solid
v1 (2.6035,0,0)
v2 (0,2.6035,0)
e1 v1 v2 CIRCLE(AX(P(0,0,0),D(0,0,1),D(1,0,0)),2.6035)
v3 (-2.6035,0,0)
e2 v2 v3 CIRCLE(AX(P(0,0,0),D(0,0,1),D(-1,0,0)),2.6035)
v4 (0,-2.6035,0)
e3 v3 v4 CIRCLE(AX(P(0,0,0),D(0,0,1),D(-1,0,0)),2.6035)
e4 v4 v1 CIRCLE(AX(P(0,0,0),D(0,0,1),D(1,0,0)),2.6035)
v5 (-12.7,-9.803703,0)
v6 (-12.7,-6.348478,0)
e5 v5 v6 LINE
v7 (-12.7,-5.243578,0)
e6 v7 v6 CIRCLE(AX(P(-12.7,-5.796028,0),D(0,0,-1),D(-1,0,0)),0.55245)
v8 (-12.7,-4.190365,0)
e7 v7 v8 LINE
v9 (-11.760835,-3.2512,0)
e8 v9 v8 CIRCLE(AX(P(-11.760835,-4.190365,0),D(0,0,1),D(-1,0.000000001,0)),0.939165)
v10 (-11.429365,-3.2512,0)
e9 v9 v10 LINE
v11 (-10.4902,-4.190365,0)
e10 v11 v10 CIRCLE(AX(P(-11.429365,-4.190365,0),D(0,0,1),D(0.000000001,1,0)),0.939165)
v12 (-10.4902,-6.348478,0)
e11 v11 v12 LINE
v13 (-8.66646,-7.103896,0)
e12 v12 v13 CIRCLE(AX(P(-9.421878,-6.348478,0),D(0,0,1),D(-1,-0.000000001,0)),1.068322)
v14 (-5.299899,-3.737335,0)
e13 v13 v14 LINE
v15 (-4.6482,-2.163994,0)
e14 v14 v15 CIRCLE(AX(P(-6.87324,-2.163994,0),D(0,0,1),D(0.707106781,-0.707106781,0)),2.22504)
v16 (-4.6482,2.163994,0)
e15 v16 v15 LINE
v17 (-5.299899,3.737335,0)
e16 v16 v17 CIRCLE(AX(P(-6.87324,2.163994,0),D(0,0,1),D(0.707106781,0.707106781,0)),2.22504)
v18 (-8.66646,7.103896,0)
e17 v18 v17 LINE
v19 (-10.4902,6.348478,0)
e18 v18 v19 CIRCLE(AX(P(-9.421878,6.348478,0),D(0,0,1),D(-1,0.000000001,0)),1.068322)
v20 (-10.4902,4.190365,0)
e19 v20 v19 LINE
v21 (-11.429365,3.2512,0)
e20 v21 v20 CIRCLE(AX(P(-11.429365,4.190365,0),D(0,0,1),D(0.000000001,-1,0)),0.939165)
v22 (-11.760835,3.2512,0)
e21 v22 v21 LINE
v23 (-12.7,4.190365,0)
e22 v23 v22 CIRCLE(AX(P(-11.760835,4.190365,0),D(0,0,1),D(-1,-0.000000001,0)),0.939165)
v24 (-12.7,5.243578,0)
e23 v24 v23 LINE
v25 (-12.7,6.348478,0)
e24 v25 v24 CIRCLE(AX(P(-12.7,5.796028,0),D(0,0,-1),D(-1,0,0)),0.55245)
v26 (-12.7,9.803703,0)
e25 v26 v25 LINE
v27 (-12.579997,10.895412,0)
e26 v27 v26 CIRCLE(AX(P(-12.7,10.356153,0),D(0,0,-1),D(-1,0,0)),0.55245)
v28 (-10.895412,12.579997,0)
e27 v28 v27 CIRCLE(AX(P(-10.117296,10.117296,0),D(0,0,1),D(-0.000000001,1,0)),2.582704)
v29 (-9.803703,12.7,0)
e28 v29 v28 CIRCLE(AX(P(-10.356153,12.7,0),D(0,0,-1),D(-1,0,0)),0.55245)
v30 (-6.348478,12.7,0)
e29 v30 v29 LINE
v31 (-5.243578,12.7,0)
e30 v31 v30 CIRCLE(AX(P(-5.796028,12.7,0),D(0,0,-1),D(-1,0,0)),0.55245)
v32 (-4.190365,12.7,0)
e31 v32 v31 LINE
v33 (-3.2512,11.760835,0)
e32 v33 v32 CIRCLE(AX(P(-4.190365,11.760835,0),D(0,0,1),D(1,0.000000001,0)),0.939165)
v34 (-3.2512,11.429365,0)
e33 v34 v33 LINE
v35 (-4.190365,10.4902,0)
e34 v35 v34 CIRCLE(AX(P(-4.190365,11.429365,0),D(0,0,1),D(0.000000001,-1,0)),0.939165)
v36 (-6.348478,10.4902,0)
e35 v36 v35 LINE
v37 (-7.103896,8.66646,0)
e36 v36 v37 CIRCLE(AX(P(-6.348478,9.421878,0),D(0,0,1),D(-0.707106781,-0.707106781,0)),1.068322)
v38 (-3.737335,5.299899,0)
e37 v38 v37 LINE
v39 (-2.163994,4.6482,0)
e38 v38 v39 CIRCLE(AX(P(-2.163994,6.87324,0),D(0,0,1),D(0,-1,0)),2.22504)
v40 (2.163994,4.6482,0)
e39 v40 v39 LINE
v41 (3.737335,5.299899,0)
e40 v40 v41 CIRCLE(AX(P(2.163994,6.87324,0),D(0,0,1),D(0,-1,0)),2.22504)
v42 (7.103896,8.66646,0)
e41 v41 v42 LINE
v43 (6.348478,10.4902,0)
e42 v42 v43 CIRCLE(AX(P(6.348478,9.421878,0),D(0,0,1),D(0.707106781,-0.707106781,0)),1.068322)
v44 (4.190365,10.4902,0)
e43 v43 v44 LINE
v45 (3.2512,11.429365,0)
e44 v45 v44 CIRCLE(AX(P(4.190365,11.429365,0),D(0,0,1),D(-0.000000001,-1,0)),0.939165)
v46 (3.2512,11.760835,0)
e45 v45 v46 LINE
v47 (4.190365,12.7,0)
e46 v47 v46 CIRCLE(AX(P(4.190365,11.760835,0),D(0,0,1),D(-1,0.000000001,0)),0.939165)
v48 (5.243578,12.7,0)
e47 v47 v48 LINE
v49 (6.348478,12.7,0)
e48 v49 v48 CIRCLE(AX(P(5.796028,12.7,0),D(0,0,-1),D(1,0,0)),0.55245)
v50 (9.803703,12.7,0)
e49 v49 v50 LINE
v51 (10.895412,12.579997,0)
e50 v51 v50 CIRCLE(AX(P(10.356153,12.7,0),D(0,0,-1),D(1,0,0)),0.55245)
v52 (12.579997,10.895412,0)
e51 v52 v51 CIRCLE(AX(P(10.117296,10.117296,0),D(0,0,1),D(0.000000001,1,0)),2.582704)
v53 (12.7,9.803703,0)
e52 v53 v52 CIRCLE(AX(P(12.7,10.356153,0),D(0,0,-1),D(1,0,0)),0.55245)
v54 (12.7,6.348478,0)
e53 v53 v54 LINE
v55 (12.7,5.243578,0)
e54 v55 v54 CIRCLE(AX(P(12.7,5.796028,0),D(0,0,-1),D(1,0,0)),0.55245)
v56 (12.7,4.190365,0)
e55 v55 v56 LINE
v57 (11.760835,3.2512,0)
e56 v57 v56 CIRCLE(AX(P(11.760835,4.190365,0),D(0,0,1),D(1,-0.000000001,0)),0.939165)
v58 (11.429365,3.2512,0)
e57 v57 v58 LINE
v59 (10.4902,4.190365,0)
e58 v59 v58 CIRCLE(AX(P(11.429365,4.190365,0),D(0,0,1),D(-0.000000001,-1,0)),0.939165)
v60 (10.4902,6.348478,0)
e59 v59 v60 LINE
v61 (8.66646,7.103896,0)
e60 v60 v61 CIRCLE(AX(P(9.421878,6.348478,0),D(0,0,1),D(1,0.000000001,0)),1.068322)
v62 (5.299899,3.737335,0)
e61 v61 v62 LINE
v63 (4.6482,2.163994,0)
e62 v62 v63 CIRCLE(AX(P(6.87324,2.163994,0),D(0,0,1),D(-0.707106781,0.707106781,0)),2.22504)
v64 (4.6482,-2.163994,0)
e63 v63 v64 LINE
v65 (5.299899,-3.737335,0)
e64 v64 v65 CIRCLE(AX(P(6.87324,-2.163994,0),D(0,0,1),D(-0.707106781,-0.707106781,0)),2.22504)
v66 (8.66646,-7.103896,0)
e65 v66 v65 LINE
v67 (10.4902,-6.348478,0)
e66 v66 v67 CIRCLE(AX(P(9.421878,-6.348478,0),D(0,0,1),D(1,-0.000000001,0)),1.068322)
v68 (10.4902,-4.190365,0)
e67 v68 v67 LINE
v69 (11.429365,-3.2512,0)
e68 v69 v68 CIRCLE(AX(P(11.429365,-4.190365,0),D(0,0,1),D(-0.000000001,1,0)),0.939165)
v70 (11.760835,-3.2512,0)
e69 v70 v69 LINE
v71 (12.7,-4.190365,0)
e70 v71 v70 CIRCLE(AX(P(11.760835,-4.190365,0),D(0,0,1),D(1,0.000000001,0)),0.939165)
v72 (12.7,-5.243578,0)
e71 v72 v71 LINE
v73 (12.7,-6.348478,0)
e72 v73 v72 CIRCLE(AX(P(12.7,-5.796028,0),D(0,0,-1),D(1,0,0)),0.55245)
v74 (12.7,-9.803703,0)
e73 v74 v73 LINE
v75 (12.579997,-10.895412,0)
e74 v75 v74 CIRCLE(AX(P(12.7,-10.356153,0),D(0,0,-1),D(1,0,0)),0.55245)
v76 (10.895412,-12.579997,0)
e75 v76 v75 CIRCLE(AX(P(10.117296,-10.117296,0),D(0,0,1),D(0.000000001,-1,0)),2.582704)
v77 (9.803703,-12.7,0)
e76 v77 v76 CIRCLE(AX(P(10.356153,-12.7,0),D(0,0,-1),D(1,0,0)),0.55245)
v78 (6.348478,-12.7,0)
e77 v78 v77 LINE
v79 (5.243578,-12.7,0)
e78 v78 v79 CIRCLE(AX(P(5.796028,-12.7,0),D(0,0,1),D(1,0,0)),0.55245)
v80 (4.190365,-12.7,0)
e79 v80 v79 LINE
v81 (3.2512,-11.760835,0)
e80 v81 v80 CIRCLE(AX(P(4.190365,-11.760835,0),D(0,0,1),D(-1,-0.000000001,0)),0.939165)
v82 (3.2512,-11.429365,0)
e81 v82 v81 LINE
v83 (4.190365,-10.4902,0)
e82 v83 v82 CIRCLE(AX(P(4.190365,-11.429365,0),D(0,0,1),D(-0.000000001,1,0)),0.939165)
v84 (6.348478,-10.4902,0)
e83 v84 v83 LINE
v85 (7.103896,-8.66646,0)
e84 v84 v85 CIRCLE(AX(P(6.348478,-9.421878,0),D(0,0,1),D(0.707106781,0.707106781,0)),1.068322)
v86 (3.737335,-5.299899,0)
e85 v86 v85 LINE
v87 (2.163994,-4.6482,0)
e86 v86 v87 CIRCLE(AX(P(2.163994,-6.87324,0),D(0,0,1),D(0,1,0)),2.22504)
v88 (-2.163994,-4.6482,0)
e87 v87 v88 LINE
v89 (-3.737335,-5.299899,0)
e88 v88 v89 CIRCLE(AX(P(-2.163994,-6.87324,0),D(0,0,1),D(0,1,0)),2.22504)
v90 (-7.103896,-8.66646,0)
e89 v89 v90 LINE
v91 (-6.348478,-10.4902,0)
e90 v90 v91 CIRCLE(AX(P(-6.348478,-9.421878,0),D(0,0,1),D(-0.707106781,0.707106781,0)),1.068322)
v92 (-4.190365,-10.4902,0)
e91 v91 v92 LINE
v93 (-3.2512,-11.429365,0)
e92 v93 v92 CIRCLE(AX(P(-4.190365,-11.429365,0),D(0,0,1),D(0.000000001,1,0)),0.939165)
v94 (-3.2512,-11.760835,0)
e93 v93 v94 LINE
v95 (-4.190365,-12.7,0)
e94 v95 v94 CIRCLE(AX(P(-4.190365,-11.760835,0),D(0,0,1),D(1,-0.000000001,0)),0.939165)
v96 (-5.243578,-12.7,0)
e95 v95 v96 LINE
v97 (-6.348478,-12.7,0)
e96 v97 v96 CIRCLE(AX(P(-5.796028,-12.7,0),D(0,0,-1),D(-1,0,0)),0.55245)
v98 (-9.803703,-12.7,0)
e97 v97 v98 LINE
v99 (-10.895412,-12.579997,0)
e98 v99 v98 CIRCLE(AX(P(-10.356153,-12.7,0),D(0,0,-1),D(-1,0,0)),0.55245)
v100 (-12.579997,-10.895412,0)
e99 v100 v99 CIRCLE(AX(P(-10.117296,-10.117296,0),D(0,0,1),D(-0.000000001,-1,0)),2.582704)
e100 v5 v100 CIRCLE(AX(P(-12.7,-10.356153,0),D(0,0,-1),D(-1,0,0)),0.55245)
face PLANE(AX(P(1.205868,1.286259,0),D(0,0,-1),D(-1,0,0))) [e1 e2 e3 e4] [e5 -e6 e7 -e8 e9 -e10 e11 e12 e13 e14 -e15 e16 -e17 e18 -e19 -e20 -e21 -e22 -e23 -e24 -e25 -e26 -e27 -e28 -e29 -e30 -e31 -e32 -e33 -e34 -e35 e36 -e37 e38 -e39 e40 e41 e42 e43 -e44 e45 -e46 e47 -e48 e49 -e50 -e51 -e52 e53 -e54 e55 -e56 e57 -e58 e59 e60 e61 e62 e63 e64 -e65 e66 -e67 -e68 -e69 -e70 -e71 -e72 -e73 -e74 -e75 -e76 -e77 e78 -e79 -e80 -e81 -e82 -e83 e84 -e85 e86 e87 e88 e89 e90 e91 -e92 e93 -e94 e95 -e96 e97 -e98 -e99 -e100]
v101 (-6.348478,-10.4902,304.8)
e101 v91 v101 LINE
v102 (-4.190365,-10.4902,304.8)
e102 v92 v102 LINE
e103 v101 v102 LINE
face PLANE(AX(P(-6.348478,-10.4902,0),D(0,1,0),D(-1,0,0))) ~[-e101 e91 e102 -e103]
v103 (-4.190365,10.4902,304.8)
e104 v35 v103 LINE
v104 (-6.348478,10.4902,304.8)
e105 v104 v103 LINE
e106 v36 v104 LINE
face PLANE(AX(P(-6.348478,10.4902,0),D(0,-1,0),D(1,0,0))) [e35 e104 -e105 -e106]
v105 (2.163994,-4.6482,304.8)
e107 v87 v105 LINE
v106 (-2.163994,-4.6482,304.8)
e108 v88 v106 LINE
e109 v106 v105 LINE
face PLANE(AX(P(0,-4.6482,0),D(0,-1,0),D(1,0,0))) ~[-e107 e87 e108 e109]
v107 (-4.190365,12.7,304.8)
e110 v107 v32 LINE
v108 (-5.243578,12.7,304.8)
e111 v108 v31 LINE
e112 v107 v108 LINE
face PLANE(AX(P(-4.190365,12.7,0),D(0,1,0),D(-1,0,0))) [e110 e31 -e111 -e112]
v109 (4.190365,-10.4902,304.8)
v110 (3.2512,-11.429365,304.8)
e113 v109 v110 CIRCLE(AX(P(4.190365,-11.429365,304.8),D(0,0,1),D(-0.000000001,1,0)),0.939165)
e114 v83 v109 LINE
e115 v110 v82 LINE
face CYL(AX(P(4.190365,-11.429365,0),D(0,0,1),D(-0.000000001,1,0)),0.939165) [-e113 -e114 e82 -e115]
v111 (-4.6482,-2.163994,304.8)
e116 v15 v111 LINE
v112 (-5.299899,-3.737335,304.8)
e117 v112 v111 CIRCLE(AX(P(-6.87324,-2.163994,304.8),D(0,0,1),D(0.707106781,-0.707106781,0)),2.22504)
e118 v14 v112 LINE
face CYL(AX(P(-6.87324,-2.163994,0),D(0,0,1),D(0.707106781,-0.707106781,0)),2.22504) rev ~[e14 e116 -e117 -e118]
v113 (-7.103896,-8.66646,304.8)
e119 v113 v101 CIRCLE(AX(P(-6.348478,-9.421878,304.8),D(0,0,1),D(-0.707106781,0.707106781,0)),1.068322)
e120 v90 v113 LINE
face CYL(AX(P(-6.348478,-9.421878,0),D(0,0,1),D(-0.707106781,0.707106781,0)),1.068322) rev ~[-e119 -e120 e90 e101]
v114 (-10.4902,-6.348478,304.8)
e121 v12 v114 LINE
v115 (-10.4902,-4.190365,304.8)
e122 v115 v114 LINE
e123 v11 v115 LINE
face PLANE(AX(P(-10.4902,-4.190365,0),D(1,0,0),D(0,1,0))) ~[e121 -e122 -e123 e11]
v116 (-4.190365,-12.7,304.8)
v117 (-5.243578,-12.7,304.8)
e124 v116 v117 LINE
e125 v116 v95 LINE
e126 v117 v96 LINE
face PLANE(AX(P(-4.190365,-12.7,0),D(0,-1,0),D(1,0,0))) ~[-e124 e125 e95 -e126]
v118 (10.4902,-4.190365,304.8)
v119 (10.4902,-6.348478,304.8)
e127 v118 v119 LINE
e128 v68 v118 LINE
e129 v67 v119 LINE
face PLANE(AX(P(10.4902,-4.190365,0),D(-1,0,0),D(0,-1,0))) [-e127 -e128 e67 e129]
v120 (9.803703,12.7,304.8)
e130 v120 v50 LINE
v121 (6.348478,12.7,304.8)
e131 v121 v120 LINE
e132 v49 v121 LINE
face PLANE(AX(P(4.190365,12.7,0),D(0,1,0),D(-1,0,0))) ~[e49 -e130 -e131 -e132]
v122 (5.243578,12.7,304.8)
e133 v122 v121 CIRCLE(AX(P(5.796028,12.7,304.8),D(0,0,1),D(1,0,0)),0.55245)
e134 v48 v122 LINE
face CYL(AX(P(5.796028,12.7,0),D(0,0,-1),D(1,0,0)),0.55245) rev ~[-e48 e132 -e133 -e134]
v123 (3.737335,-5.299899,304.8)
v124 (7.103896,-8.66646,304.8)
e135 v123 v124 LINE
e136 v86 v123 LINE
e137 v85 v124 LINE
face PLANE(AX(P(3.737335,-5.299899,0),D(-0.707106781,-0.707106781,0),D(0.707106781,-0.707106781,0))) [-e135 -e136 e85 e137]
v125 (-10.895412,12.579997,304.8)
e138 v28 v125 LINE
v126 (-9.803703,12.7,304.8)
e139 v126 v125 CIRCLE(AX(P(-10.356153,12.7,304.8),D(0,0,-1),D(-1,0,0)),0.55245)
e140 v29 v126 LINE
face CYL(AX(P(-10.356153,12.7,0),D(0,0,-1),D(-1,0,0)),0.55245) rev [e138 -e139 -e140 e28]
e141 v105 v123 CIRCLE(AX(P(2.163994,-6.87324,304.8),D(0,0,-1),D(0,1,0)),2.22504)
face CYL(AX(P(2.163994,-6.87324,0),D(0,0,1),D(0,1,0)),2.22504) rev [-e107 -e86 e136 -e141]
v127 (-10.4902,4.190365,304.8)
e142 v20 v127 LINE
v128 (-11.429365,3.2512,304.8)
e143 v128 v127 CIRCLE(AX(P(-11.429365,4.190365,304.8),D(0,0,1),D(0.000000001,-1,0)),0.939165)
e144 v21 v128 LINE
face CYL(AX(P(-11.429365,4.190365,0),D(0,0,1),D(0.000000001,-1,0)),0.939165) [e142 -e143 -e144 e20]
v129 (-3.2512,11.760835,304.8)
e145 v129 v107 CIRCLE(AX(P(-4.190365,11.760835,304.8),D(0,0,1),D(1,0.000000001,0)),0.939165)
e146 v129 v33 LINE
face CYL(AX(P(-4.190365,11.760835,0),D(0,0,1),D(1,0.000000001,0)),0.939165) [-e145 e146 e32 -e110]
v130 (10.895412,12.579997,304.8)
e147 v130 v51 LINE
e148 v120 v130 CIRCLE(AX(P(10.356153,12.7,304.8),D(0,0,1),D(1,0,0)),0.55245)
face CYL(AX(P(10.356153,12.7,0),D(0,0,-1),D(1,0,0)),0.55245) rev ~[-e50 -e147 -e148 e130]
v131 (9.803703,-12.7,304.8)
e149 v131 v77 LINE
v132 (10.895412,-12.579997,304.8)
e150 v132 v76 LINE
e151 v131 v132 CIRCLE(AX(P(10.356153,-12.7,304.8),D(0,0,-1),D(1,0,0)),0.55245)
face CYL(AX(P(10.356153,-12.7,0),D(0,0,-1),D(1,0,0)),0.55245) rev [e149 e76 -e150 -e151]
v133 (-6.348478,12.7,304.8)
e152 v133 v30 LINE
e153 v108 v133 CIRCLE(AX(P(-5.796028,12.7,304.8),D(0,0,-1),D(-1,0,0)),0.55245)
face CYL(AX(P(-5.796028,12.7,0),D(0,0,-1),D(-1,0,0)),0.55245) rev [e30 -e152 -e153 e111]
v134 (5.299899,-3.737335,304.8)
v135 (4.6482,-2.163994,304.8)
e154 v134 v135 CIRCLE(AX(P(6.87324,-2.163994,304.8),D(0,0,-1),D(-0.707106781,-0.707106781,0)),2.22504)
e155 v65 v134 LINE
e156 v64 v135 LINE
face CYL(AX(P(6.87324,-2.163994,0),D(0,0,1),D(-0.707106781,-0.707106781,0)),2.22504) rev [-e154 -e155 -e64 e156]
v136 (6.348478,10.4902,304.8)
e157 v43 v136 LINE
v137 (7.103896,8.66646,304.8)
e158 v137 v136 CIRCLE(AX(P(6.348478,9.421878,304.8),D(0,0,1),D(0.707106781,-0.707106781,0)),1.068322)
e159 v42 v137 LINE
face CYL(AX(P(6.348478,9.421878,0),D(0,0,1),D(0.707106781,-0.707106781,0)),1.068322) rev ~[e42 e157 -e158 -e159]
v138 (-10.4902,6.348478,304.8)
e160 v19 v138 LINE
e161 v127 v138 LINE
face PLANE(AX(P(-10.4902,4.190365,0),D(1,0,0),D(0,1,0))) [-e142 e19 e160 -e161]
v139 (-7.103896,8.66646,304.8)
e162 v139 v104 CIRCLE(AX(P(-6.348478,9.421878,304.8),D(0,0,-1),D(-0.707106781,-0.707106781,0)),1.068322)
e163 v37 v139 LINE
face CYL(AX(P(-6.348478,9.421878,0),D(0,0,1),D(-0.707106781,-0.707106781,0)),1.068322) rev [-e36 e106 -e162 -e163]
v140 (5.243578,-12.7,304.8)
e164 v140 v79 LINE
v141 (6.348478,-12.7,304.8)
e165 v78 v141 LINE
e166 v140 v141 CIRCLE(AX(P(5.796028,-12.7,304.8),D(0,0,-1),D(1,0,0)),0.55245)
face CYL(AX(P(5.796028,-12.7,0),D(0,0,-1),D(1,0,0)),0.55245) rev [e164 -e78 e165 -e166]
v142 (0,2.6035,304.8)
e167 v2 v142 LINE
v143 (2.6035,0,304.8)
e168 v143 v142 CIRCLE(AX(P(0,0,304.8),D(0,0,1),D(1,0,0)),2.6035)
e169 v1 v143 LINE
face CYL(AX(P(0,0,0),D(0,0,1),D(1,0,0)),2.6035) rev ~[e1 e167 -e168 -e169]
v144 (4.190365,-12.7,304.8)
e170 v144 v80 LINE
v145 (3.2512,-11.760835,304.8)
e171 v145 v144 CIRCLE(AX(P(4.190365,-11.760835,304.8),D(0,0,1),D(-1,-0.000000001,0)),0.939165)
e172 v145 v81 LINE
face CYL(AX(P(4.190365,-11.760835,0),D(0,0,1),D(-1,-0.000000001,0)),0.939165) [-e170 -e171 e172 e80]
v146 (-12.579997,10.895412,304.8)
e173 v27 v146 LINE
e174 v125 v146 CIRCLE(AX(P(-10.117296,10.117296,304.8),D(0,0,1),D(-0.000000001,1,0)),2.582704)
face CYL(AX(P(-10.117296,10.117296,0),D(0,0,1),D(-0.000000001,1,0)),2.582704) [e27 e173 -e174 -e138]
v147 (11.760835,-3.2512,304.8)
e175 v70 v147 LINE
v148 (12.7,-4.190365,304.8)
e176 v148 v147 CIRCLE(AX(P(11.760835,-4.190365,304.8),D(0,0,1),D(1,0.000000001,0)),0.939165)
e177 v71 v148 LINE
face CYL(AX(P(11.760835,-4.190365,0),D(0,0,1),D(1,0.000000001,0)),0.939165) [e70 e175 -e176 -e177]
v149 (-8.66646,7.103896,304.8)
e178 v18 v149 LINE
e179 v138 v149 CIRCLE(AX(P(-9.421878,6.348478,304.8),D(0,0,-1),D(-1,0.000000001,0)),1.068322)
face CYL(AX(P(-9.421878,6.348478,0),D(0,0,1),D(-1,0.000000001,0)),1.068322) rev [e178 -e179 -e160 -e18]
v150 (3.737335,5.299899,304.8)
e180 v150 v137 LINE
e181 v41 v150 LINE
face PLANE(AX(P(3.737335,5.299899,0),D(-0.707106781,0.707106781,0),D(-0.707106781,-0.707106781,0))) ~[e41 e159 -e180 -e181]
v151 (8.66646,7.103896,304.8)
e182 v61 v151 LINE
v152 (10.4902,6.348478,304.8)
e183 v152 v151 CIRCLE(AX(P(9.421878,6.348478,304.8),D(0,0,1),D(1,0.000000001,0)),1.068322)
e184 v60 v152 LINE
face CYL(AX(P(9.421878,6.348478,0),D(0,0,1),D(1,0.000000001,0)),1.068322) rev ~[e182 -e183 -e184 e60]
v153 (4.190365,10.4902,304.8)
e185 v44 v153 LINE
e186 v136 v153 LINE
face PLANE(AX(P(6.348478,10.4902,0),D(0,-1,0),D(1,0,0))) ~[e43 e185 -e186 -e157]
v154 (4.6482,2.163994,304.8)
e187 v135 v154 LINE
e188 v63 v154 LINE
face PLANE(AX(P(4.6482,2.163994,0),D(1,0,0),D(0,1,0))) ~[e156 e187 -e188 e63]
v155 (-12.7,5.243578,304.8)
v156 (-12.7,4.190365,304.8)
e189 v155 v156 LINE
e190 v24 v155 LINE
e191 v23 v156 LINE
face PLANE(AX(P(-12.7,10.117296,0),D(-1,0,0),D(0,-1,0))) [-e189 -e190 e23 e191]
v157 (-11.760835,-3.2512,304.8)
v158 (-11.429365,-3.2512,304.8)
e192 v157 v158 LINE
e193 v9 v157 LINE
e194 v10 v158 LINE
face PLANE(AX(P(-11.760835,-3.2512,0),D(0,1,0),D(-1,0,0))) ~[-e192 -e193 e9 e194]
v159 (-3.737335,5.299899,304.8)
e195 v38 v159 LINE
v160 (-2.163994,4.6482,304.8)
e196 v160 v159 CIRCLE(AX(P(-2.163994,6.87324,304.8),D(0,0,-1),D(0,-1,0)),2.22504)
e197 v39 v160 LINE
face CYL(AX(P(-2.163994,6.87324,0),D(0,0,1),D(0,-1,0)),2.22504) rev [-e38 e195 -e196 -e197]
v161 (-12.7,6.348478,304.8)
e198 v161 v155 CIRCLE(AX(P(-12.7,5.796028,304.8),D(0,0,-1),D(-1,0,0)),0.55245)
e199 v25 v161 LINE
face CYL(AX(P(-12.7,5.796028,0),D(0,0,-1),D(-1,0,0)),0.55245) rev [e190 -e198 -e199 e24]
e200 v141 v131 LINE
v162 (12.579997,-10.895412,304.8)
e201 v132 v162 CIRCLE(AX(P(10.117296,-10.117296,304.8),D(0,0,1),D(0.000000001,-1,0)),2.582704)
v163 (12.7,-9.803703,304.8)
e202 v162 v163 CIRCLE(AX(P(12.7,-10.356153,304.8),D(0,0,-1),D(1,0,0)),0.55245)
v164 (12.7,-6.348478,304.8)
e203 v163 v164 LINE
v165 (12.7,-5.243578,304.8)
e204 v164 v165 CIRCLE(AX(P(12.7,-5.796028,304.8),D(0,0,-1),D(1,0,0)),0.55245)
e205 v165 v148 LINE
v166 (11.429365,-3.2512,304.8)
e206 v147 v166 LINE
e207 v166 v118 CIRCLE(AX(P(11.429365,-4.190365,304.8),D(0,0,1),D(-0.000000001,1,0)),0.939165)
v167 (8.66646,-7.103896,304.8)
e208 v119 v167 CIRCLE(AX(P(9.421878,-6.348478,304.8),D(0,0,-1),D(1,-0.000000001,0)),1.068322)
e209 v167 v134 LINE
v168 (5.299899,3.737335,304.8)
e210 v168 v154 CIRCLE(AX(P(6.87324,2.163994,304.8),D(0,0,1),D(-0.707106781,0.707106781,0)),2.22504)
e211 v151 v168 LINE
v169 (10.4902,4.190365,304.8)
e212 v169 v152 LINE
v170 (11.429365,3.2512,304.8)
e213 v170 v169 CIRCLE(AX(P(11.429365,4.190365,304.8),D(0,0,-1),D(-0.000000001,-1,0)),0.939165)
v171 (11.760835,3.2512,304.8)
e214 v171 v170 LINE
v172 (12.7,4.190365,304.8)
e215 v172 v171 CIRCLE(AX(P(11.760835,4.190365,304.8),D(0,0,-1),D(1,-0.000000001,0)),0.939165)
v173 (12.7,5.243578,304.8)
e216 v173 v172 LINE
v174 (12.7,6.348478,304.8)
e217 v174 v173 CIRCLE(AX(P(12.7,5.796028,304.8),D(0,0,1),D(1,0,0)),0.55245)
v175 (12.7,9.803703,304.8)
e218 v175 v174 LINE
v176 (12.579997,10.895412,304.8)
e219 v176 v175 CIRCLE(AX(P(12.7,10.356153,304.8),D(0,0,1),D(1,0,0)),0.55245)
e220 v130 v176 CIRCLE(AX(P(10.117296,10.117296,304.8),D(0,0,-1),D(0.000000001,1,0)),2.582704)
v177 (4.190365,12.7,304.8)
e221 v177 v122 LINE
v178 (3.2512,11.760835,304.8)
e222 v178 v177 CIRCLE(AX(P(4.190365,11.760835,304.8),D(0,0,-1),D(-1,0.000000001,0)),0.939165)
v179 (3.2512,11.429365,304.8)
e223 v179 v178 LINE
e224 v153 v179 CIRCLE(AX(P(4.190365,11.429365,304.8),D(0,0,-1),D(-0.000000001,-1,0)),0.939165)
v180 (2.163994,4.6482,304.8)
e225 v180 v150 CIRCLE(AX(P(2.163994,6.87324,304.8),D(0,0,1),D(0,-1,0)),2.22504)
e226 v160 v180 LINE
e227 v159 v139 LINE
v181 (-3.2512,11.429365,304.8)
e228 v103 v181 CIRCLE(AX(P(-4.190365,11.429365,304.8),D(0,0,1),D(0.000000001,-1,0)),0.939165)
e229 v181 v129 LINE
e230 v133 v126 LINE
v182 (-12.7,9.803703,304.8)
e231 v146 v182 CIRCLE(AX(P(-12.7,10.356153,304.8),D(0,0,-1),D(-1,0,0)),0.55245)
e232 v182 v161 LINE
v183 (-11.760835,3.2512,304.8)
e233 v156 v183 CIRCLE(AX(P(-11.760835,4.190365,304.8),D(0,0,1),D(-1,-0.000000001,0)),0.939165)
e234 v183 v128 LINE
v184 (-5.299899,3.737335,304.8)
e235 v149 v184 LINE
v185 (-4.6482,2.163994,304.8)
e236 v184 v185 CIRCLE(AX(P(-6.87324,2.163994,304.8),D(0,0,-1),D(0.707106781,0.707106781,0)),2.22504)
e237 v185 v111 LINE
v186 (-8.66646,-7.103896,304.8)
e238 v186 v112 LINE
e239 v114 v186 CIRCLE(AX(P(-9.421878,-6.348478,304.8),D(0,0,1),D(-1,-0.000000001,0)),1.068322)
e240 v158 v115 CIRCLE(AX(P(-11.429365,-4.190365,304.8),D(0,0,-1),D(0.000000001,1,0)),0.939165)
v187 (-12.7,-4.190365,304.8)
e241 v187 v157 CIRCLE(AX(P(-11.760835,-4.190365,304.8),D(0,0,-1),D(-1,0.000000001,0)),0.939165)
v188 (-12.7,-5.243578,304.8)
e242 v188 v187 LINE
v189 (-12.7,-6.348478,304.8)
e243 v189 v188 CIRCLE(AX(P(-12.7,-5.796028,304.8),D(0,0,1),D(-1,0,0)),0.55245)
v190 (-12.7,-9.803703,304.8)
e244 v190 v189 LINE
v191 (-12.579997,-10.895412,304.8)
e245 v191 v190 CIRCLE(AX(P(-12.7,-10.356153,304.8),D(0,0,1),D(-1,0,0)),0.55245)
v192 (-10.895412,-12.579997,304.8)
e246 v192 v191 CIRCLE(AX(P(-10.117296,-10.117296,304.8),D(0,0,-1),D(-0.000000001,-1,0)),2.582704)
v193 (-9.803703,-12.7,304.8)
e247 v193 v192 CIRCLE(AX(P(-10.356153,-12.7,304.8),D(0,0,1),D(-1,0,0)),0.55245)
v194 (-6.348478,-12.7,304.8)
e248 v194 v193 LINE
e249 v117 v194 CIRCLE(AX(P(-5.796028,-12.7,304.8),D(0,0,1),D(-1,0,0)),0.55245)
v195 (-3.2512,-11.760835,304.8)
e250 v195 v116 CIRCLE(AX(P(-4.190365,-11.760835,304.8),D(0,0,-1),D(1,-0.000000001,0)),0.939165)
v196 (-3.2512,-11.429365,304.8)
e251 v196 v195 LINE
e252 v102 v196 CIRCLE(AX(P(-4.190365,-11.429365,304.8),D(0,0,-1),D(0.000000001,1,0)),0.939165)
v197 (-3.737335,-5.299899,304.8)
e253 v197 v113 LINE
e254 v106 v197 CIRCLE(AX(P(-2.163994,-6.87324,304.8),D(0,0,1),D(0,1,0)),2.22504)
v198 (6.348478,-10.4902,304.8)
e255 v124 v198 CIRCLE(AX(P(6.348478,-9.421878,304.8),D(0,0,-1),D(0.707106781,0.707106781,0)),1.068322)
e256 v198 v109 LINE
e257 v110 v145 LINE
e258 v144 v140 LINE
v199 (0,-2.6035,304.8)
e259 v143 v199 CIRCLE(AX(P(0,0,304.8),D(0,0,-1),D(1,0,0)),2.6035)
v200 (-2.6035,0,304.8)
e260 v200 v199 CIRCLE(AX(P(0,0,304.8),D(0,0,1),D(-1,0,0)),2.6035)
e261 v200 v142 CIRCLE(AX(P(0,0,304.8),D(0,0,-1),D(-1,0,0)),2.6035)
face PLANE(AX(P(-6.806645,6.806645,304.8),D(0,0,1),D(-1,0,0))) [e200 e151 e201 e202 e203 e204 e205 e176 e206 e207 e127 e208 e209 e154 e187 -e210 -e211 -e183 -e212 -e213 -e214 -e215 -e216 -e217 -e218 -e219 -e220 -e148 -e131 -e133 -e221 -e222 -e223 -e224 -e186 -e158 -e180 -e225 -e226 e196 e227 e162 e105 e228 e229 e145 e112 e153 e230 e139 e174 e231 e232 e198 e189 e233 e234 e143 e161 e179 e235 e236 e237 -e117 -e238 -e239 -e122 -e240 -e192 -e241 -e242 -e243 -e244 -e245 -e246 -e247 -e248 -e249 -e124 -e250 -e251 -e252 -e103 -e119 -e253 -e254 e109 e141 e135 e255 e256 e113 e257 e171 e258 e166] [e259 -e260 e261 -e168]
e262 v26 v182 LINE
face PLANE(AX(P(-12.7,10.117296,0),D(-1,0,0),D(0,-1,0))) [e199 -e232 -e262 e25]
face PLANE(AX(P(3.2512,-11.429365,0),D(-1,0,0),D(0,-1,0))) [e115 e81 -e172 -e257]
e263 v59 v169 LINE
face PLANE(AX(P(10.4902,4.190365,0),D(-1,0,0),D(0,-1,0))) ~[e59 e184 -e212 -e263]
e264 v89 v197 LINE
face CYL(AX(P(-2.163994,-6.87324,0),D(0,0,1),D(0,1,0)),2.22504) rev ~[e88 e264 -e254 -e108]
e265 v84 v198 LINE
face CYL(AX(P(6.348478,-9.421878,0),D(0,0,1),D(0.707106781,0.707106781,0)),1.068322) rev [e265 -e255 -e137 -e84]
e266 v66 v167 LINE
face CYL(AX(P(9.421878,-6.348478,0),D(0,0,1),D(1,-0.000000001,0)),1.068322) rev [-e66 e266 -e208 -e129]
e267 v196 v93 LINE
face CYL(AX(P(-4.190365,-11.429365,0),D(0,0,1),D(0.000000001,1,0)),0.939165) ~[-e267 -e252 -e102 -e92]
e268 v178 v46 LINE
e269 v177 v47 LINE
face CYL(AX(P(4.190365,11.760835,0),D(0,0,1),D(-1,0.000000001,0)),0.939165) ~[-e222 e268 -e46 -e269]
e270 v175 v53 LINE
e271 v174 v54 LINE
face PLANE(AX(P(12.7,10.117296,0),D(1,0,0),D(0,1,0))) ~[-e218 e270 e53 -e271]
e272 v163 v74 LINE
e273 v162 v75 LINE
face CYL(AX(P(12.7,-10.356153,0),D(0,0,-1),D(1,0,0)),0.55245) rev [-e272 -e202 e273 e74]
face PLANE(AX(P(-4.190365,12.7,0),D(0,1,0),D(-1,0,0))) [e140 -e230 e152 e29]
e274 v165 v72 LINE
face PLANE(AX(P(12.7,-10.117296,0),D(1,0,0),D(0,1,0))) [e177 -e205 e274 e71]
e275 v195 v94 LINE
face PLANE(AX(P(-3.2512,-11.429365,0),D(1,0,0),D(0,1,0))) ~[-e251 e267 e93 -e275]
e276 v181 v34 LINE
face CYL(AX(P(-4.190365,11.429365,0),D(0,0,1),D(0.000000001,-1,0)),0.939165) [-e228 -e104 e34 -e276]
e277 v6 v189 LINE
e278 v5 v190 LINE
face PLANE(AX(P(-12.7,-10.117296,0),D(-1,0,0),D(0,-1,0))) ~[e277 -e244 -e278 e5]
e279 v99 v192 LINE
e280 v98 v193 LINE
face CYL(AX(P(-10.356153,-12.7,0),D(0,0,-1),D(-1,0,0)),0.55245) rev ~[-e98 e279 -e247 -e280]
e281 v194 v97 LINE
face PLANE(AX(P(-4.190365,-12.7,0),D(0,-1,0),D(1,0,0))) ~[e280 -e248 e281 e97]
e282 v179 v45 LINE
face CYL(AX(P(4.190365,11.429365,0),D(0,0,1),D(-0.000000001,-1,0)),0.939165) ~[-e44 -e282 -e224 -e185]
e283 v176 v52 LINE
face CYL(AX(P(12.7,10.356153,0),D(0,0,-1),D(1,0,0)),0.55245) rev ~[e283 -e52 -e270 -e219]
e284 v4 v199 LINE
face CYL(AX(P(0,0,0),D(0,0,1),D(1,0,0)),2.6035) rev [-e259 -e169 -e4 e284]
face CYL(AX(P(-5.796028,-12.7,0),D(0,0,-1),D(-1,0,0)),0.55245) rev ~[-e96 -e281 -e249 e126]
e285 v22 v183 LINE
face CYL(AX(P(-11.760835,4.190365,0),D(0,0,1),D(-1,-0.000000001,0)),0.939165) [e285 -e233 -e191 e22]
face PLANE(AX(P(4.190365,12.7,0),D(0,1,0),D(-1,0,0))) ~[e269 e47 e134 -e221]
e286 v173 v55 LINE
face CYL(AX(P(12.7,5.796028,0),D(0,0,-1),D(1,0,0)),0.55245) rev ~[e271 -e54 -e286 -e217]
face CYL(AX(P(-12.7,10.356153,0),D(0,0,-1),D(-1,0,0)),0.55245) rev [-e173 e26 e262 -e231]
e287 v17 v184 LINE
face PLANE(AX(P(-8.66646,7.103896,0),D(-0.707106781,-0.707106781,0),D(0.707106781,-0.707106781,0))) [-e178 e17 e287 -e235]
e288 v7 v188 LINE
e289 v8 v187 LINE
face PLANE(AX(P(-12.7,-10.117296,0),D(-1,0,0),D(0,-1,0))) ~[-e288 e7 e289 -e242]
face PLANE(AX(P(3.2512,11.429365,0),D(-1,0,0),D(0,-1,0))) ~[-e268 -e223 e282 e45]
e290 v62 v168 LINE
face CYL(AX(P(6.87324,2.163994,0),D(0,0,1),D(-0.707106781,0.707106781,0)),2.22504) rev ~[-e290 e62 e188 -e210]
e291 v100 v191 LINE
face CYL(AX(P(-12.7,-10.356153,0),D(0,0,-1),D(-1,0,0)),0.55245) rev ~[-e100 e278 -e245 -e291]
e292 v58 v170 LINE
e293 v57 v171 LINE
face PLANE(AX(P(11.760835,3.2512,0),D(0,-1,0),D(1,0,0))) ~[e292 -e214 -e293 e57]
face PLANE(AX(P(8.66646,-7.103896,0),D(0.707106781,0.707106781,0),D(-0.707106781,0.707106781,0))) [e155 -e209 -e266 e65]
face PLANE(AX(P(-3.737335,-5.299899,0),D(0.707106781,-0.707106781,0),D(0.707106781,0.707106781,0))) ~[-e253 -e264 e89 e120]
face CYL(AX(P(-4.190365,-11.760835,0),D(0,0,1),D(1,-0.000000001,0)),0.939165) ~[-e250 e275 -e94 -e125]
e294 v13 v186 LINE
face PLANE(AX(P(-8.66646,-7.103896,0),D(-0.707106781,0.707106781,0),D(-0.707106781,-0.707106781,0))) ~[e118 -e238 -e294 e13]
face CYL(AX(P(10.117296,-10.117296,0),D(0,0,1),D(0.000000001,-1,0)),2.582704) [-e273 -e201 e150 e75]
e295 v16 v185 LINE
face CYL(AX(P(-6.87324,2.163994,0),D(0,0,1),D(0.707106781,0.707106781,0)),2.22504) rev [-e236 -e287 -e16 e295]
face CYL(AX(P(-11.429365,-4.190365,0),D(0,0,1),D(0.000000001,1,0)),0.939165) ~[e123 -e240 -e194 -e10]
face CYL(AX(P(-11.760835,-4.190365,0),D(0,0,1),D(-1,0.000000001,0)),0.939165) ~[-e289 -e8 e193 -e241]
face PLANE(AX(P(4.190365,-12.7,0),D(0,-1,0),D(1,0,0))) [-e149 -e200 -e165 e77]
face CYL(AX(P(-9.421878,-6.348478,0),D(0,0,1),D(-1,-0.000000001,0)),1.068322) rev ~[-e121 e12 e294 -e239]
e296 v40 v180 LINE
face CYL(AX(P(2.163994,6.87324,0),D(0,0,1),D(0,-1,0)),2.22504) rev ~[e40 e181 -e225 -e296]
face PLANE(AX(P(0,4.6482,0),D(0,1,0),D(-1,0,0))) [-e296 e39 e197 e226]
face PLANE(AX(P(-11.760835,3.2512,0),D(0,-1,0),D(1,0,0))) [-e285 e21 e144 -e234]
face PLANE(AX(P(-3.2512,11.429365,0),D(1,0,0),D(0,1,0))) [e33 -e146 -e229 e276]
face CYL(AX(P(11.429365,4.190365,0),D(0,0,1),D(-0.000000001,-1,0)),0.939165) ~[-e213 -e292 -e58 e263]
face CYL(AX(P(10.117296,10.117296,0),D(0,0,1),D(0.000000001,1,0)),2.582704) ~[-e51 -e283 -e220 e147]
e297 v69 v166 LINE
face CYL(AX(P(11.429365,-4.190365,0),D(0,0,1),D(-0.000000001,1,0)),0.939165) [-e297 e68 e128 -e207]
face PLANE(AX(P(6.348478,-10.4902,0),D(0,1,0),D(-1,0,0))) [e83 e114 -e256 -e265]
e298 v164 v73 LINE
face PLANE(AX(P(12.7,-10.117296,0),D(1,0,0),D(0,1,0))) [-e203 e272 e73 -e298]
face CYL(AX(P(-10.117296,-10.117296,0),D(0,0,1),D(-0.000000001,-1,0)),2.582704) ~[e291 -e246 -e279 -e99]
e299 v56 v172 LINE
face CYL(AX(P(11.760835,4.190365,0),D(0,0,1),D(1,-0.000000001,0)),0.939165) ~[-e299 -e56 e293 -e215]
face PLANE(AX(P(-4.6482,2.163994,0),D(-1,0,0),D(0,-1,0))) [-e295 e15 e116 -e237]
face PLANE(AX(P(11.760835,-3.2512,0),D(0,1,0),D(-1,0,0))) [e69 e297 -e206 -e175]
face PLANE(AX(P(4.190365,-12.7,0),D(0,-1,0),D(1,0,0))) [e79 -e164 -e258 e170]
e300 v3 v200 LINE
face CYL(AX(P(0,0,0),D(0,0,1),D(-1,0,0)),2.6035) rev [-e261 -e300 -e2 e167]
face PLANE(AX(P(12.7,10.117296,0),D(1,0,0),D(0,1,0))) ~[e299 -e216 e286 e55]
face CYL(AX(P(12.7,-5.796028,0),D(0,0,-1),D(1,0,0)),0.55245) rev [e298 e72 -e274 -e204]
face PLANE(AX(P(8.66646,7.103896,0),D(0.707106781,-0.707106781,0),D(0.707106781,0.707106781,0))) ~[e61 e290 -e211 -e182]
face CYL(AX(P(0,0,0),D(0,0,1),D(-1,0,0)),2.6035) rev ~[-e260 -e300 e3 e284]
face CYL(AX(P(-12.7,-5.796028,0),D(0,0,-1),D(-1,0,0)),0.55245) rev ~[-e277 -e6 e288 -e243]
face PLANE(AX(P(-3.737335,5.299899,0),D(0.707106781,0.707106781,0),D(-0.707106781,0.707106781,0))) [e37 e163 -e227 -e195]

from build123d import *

# Parameters (mm, degrees)
BOSS_EXTRUDE1_DEPTH     = 304.8
SKETCH5_R               = 0.55245
CUT_EXTRUDE1_DEPTH      = 305.8
CUT_EXTRUDE1_DEPTH_BACK = 305.8
SKETCH6_W               = 73.397173187
SKETCH6_H               = 48.877854652
CUT_EXTRUDE2_DEPTH      = 304.8


with BuildPart() as part:
    # Sketch4 → Boss-Extrude1 (new body, symmetric)
    with BuildSketch(Plane.XY):
        with BuildLine():
            Line((4.190365, -12.7), (10.11729625, -12.7))
            ThreePointArc((10.11729625, -12.7), (11.943543585, -11.943543585), (12.7, -10.11729625))
            Line((12.7, -10.11729625), (12.7, -4.190365))
            ThreePointArc((12.7, -4.190365), (12.42492494, -3.52627506), (11.760835, -3.2512))
            Line((11.760835, -3.2512), (11.429365, -3.2512))
            ThreePointArc((11.429365, -3.2512), (10.76527506, -3.52627506), (10.4902, -4.190365))
            Line((10.4902, -4.190365), (10.4902, -6.348478019))
            ThreePointArc((10.4902, -6.348478019), (9.830707141, -7.335478831), (8.666460301, -7.103895736))
            Line((8.666460301, -7.103895736), (5.299899128, -3.737334563))
            ThreePointArc((5.299899128, -3.737334563), (4.817571085, -3.015479634), (4.6482, -2.16399369))
            Line((4.6482, -2.16399369), (4.6482, 0))
            Line((4.6482, 0), (2.6035, 0))
            ThreePointArc((2.6035, 0), (1.840952505, -1.840952505), (0, -2.6035))
            Line((0, -2.6035), (0, -4.6482))
            Line((0, -4.6482), (2.16399369, -4.6482))
            ThreePointArc((2.16399369, -4.6482), (3.015479634, -4.817571085), (3.737334563, -5.299899128))
            Line((3.737334563, -5.299899128), (7.103895736, -8.666460301))
            ThreePointArc((7.103895736, -8.666460301), (7.335478831, -9.830707141), (6.348478019, -10.4902))
            Line((6.348478019, -10.4902), (4.190365, -10.4902))
            ThreePointArc((4.190365, -10.4902), (3.52627506, -10.76527506), (3.2512, -11.429365))
            Line((3.2512, -11.429365), (3.2512, -11.760835))
            ThreePointArc((3.2512, -11.760835), (3.52627506, -12.42492494), (4.190365, -12.7))
        make_face()
    extrude(amount=BOSS_EXTRUDE1_DEPTH, both=True)

    # Sketch5 → Cut-Extrude1 (cut, two sides)
    with BuildSketch(Plane.XY) as cut_extrude1_sk:
        with Locations((10.356153152, -12.7)):
            Circle(SKETCH5_R)
        with Locations((5.796028019, -12.7)):
            Circle(SKETCH5_R)
        with Locations((12.7, -10.356153152)):
            Circle(SKETCH5_R)
        with Locations((12.7, -5.796028019)):
            Circle(SKETCH5_R)
    extrude(amount=CUT_EXTRUDE1_DEPTH, mode=Mode.SUBTRACT)
    extrude(cut_extrude1_sk.sketch, amount=-CUT_EXTRUDE1_DEPTH_BACK, mode=Mode.SUBTRACT)

    # Mirror1: part across plane


with BuildPart() as part_1:
    add(part.part)
    add(part.part.mirror(Plane(origin=(0, 0, 0), x_dir=(0, 0, 1), z_dir=(1, 0, 0))))

    # Mirror2: part across plane


with BuildPart() as part_2:
    add(part_1.part)
    add(part_1.part.mirror(Plane.ZX))

    # Sketch6 → Cut-Extrude2 (cut)
    with BuildSketch(Plane(origin=(0, 0, -304.8), x_dir=(-1, 0, 0), z_dir=(0, 0, -1))):
        with Locations((-1.205868125, 1.286259333)):
            Rectangle(SKETCH6_W, SKETCH6_H)
    extrude(amount=-CUT_EXTRUDE2_DEPTH, mode=Mode.SUBTRACT)


solid = part_2.part
